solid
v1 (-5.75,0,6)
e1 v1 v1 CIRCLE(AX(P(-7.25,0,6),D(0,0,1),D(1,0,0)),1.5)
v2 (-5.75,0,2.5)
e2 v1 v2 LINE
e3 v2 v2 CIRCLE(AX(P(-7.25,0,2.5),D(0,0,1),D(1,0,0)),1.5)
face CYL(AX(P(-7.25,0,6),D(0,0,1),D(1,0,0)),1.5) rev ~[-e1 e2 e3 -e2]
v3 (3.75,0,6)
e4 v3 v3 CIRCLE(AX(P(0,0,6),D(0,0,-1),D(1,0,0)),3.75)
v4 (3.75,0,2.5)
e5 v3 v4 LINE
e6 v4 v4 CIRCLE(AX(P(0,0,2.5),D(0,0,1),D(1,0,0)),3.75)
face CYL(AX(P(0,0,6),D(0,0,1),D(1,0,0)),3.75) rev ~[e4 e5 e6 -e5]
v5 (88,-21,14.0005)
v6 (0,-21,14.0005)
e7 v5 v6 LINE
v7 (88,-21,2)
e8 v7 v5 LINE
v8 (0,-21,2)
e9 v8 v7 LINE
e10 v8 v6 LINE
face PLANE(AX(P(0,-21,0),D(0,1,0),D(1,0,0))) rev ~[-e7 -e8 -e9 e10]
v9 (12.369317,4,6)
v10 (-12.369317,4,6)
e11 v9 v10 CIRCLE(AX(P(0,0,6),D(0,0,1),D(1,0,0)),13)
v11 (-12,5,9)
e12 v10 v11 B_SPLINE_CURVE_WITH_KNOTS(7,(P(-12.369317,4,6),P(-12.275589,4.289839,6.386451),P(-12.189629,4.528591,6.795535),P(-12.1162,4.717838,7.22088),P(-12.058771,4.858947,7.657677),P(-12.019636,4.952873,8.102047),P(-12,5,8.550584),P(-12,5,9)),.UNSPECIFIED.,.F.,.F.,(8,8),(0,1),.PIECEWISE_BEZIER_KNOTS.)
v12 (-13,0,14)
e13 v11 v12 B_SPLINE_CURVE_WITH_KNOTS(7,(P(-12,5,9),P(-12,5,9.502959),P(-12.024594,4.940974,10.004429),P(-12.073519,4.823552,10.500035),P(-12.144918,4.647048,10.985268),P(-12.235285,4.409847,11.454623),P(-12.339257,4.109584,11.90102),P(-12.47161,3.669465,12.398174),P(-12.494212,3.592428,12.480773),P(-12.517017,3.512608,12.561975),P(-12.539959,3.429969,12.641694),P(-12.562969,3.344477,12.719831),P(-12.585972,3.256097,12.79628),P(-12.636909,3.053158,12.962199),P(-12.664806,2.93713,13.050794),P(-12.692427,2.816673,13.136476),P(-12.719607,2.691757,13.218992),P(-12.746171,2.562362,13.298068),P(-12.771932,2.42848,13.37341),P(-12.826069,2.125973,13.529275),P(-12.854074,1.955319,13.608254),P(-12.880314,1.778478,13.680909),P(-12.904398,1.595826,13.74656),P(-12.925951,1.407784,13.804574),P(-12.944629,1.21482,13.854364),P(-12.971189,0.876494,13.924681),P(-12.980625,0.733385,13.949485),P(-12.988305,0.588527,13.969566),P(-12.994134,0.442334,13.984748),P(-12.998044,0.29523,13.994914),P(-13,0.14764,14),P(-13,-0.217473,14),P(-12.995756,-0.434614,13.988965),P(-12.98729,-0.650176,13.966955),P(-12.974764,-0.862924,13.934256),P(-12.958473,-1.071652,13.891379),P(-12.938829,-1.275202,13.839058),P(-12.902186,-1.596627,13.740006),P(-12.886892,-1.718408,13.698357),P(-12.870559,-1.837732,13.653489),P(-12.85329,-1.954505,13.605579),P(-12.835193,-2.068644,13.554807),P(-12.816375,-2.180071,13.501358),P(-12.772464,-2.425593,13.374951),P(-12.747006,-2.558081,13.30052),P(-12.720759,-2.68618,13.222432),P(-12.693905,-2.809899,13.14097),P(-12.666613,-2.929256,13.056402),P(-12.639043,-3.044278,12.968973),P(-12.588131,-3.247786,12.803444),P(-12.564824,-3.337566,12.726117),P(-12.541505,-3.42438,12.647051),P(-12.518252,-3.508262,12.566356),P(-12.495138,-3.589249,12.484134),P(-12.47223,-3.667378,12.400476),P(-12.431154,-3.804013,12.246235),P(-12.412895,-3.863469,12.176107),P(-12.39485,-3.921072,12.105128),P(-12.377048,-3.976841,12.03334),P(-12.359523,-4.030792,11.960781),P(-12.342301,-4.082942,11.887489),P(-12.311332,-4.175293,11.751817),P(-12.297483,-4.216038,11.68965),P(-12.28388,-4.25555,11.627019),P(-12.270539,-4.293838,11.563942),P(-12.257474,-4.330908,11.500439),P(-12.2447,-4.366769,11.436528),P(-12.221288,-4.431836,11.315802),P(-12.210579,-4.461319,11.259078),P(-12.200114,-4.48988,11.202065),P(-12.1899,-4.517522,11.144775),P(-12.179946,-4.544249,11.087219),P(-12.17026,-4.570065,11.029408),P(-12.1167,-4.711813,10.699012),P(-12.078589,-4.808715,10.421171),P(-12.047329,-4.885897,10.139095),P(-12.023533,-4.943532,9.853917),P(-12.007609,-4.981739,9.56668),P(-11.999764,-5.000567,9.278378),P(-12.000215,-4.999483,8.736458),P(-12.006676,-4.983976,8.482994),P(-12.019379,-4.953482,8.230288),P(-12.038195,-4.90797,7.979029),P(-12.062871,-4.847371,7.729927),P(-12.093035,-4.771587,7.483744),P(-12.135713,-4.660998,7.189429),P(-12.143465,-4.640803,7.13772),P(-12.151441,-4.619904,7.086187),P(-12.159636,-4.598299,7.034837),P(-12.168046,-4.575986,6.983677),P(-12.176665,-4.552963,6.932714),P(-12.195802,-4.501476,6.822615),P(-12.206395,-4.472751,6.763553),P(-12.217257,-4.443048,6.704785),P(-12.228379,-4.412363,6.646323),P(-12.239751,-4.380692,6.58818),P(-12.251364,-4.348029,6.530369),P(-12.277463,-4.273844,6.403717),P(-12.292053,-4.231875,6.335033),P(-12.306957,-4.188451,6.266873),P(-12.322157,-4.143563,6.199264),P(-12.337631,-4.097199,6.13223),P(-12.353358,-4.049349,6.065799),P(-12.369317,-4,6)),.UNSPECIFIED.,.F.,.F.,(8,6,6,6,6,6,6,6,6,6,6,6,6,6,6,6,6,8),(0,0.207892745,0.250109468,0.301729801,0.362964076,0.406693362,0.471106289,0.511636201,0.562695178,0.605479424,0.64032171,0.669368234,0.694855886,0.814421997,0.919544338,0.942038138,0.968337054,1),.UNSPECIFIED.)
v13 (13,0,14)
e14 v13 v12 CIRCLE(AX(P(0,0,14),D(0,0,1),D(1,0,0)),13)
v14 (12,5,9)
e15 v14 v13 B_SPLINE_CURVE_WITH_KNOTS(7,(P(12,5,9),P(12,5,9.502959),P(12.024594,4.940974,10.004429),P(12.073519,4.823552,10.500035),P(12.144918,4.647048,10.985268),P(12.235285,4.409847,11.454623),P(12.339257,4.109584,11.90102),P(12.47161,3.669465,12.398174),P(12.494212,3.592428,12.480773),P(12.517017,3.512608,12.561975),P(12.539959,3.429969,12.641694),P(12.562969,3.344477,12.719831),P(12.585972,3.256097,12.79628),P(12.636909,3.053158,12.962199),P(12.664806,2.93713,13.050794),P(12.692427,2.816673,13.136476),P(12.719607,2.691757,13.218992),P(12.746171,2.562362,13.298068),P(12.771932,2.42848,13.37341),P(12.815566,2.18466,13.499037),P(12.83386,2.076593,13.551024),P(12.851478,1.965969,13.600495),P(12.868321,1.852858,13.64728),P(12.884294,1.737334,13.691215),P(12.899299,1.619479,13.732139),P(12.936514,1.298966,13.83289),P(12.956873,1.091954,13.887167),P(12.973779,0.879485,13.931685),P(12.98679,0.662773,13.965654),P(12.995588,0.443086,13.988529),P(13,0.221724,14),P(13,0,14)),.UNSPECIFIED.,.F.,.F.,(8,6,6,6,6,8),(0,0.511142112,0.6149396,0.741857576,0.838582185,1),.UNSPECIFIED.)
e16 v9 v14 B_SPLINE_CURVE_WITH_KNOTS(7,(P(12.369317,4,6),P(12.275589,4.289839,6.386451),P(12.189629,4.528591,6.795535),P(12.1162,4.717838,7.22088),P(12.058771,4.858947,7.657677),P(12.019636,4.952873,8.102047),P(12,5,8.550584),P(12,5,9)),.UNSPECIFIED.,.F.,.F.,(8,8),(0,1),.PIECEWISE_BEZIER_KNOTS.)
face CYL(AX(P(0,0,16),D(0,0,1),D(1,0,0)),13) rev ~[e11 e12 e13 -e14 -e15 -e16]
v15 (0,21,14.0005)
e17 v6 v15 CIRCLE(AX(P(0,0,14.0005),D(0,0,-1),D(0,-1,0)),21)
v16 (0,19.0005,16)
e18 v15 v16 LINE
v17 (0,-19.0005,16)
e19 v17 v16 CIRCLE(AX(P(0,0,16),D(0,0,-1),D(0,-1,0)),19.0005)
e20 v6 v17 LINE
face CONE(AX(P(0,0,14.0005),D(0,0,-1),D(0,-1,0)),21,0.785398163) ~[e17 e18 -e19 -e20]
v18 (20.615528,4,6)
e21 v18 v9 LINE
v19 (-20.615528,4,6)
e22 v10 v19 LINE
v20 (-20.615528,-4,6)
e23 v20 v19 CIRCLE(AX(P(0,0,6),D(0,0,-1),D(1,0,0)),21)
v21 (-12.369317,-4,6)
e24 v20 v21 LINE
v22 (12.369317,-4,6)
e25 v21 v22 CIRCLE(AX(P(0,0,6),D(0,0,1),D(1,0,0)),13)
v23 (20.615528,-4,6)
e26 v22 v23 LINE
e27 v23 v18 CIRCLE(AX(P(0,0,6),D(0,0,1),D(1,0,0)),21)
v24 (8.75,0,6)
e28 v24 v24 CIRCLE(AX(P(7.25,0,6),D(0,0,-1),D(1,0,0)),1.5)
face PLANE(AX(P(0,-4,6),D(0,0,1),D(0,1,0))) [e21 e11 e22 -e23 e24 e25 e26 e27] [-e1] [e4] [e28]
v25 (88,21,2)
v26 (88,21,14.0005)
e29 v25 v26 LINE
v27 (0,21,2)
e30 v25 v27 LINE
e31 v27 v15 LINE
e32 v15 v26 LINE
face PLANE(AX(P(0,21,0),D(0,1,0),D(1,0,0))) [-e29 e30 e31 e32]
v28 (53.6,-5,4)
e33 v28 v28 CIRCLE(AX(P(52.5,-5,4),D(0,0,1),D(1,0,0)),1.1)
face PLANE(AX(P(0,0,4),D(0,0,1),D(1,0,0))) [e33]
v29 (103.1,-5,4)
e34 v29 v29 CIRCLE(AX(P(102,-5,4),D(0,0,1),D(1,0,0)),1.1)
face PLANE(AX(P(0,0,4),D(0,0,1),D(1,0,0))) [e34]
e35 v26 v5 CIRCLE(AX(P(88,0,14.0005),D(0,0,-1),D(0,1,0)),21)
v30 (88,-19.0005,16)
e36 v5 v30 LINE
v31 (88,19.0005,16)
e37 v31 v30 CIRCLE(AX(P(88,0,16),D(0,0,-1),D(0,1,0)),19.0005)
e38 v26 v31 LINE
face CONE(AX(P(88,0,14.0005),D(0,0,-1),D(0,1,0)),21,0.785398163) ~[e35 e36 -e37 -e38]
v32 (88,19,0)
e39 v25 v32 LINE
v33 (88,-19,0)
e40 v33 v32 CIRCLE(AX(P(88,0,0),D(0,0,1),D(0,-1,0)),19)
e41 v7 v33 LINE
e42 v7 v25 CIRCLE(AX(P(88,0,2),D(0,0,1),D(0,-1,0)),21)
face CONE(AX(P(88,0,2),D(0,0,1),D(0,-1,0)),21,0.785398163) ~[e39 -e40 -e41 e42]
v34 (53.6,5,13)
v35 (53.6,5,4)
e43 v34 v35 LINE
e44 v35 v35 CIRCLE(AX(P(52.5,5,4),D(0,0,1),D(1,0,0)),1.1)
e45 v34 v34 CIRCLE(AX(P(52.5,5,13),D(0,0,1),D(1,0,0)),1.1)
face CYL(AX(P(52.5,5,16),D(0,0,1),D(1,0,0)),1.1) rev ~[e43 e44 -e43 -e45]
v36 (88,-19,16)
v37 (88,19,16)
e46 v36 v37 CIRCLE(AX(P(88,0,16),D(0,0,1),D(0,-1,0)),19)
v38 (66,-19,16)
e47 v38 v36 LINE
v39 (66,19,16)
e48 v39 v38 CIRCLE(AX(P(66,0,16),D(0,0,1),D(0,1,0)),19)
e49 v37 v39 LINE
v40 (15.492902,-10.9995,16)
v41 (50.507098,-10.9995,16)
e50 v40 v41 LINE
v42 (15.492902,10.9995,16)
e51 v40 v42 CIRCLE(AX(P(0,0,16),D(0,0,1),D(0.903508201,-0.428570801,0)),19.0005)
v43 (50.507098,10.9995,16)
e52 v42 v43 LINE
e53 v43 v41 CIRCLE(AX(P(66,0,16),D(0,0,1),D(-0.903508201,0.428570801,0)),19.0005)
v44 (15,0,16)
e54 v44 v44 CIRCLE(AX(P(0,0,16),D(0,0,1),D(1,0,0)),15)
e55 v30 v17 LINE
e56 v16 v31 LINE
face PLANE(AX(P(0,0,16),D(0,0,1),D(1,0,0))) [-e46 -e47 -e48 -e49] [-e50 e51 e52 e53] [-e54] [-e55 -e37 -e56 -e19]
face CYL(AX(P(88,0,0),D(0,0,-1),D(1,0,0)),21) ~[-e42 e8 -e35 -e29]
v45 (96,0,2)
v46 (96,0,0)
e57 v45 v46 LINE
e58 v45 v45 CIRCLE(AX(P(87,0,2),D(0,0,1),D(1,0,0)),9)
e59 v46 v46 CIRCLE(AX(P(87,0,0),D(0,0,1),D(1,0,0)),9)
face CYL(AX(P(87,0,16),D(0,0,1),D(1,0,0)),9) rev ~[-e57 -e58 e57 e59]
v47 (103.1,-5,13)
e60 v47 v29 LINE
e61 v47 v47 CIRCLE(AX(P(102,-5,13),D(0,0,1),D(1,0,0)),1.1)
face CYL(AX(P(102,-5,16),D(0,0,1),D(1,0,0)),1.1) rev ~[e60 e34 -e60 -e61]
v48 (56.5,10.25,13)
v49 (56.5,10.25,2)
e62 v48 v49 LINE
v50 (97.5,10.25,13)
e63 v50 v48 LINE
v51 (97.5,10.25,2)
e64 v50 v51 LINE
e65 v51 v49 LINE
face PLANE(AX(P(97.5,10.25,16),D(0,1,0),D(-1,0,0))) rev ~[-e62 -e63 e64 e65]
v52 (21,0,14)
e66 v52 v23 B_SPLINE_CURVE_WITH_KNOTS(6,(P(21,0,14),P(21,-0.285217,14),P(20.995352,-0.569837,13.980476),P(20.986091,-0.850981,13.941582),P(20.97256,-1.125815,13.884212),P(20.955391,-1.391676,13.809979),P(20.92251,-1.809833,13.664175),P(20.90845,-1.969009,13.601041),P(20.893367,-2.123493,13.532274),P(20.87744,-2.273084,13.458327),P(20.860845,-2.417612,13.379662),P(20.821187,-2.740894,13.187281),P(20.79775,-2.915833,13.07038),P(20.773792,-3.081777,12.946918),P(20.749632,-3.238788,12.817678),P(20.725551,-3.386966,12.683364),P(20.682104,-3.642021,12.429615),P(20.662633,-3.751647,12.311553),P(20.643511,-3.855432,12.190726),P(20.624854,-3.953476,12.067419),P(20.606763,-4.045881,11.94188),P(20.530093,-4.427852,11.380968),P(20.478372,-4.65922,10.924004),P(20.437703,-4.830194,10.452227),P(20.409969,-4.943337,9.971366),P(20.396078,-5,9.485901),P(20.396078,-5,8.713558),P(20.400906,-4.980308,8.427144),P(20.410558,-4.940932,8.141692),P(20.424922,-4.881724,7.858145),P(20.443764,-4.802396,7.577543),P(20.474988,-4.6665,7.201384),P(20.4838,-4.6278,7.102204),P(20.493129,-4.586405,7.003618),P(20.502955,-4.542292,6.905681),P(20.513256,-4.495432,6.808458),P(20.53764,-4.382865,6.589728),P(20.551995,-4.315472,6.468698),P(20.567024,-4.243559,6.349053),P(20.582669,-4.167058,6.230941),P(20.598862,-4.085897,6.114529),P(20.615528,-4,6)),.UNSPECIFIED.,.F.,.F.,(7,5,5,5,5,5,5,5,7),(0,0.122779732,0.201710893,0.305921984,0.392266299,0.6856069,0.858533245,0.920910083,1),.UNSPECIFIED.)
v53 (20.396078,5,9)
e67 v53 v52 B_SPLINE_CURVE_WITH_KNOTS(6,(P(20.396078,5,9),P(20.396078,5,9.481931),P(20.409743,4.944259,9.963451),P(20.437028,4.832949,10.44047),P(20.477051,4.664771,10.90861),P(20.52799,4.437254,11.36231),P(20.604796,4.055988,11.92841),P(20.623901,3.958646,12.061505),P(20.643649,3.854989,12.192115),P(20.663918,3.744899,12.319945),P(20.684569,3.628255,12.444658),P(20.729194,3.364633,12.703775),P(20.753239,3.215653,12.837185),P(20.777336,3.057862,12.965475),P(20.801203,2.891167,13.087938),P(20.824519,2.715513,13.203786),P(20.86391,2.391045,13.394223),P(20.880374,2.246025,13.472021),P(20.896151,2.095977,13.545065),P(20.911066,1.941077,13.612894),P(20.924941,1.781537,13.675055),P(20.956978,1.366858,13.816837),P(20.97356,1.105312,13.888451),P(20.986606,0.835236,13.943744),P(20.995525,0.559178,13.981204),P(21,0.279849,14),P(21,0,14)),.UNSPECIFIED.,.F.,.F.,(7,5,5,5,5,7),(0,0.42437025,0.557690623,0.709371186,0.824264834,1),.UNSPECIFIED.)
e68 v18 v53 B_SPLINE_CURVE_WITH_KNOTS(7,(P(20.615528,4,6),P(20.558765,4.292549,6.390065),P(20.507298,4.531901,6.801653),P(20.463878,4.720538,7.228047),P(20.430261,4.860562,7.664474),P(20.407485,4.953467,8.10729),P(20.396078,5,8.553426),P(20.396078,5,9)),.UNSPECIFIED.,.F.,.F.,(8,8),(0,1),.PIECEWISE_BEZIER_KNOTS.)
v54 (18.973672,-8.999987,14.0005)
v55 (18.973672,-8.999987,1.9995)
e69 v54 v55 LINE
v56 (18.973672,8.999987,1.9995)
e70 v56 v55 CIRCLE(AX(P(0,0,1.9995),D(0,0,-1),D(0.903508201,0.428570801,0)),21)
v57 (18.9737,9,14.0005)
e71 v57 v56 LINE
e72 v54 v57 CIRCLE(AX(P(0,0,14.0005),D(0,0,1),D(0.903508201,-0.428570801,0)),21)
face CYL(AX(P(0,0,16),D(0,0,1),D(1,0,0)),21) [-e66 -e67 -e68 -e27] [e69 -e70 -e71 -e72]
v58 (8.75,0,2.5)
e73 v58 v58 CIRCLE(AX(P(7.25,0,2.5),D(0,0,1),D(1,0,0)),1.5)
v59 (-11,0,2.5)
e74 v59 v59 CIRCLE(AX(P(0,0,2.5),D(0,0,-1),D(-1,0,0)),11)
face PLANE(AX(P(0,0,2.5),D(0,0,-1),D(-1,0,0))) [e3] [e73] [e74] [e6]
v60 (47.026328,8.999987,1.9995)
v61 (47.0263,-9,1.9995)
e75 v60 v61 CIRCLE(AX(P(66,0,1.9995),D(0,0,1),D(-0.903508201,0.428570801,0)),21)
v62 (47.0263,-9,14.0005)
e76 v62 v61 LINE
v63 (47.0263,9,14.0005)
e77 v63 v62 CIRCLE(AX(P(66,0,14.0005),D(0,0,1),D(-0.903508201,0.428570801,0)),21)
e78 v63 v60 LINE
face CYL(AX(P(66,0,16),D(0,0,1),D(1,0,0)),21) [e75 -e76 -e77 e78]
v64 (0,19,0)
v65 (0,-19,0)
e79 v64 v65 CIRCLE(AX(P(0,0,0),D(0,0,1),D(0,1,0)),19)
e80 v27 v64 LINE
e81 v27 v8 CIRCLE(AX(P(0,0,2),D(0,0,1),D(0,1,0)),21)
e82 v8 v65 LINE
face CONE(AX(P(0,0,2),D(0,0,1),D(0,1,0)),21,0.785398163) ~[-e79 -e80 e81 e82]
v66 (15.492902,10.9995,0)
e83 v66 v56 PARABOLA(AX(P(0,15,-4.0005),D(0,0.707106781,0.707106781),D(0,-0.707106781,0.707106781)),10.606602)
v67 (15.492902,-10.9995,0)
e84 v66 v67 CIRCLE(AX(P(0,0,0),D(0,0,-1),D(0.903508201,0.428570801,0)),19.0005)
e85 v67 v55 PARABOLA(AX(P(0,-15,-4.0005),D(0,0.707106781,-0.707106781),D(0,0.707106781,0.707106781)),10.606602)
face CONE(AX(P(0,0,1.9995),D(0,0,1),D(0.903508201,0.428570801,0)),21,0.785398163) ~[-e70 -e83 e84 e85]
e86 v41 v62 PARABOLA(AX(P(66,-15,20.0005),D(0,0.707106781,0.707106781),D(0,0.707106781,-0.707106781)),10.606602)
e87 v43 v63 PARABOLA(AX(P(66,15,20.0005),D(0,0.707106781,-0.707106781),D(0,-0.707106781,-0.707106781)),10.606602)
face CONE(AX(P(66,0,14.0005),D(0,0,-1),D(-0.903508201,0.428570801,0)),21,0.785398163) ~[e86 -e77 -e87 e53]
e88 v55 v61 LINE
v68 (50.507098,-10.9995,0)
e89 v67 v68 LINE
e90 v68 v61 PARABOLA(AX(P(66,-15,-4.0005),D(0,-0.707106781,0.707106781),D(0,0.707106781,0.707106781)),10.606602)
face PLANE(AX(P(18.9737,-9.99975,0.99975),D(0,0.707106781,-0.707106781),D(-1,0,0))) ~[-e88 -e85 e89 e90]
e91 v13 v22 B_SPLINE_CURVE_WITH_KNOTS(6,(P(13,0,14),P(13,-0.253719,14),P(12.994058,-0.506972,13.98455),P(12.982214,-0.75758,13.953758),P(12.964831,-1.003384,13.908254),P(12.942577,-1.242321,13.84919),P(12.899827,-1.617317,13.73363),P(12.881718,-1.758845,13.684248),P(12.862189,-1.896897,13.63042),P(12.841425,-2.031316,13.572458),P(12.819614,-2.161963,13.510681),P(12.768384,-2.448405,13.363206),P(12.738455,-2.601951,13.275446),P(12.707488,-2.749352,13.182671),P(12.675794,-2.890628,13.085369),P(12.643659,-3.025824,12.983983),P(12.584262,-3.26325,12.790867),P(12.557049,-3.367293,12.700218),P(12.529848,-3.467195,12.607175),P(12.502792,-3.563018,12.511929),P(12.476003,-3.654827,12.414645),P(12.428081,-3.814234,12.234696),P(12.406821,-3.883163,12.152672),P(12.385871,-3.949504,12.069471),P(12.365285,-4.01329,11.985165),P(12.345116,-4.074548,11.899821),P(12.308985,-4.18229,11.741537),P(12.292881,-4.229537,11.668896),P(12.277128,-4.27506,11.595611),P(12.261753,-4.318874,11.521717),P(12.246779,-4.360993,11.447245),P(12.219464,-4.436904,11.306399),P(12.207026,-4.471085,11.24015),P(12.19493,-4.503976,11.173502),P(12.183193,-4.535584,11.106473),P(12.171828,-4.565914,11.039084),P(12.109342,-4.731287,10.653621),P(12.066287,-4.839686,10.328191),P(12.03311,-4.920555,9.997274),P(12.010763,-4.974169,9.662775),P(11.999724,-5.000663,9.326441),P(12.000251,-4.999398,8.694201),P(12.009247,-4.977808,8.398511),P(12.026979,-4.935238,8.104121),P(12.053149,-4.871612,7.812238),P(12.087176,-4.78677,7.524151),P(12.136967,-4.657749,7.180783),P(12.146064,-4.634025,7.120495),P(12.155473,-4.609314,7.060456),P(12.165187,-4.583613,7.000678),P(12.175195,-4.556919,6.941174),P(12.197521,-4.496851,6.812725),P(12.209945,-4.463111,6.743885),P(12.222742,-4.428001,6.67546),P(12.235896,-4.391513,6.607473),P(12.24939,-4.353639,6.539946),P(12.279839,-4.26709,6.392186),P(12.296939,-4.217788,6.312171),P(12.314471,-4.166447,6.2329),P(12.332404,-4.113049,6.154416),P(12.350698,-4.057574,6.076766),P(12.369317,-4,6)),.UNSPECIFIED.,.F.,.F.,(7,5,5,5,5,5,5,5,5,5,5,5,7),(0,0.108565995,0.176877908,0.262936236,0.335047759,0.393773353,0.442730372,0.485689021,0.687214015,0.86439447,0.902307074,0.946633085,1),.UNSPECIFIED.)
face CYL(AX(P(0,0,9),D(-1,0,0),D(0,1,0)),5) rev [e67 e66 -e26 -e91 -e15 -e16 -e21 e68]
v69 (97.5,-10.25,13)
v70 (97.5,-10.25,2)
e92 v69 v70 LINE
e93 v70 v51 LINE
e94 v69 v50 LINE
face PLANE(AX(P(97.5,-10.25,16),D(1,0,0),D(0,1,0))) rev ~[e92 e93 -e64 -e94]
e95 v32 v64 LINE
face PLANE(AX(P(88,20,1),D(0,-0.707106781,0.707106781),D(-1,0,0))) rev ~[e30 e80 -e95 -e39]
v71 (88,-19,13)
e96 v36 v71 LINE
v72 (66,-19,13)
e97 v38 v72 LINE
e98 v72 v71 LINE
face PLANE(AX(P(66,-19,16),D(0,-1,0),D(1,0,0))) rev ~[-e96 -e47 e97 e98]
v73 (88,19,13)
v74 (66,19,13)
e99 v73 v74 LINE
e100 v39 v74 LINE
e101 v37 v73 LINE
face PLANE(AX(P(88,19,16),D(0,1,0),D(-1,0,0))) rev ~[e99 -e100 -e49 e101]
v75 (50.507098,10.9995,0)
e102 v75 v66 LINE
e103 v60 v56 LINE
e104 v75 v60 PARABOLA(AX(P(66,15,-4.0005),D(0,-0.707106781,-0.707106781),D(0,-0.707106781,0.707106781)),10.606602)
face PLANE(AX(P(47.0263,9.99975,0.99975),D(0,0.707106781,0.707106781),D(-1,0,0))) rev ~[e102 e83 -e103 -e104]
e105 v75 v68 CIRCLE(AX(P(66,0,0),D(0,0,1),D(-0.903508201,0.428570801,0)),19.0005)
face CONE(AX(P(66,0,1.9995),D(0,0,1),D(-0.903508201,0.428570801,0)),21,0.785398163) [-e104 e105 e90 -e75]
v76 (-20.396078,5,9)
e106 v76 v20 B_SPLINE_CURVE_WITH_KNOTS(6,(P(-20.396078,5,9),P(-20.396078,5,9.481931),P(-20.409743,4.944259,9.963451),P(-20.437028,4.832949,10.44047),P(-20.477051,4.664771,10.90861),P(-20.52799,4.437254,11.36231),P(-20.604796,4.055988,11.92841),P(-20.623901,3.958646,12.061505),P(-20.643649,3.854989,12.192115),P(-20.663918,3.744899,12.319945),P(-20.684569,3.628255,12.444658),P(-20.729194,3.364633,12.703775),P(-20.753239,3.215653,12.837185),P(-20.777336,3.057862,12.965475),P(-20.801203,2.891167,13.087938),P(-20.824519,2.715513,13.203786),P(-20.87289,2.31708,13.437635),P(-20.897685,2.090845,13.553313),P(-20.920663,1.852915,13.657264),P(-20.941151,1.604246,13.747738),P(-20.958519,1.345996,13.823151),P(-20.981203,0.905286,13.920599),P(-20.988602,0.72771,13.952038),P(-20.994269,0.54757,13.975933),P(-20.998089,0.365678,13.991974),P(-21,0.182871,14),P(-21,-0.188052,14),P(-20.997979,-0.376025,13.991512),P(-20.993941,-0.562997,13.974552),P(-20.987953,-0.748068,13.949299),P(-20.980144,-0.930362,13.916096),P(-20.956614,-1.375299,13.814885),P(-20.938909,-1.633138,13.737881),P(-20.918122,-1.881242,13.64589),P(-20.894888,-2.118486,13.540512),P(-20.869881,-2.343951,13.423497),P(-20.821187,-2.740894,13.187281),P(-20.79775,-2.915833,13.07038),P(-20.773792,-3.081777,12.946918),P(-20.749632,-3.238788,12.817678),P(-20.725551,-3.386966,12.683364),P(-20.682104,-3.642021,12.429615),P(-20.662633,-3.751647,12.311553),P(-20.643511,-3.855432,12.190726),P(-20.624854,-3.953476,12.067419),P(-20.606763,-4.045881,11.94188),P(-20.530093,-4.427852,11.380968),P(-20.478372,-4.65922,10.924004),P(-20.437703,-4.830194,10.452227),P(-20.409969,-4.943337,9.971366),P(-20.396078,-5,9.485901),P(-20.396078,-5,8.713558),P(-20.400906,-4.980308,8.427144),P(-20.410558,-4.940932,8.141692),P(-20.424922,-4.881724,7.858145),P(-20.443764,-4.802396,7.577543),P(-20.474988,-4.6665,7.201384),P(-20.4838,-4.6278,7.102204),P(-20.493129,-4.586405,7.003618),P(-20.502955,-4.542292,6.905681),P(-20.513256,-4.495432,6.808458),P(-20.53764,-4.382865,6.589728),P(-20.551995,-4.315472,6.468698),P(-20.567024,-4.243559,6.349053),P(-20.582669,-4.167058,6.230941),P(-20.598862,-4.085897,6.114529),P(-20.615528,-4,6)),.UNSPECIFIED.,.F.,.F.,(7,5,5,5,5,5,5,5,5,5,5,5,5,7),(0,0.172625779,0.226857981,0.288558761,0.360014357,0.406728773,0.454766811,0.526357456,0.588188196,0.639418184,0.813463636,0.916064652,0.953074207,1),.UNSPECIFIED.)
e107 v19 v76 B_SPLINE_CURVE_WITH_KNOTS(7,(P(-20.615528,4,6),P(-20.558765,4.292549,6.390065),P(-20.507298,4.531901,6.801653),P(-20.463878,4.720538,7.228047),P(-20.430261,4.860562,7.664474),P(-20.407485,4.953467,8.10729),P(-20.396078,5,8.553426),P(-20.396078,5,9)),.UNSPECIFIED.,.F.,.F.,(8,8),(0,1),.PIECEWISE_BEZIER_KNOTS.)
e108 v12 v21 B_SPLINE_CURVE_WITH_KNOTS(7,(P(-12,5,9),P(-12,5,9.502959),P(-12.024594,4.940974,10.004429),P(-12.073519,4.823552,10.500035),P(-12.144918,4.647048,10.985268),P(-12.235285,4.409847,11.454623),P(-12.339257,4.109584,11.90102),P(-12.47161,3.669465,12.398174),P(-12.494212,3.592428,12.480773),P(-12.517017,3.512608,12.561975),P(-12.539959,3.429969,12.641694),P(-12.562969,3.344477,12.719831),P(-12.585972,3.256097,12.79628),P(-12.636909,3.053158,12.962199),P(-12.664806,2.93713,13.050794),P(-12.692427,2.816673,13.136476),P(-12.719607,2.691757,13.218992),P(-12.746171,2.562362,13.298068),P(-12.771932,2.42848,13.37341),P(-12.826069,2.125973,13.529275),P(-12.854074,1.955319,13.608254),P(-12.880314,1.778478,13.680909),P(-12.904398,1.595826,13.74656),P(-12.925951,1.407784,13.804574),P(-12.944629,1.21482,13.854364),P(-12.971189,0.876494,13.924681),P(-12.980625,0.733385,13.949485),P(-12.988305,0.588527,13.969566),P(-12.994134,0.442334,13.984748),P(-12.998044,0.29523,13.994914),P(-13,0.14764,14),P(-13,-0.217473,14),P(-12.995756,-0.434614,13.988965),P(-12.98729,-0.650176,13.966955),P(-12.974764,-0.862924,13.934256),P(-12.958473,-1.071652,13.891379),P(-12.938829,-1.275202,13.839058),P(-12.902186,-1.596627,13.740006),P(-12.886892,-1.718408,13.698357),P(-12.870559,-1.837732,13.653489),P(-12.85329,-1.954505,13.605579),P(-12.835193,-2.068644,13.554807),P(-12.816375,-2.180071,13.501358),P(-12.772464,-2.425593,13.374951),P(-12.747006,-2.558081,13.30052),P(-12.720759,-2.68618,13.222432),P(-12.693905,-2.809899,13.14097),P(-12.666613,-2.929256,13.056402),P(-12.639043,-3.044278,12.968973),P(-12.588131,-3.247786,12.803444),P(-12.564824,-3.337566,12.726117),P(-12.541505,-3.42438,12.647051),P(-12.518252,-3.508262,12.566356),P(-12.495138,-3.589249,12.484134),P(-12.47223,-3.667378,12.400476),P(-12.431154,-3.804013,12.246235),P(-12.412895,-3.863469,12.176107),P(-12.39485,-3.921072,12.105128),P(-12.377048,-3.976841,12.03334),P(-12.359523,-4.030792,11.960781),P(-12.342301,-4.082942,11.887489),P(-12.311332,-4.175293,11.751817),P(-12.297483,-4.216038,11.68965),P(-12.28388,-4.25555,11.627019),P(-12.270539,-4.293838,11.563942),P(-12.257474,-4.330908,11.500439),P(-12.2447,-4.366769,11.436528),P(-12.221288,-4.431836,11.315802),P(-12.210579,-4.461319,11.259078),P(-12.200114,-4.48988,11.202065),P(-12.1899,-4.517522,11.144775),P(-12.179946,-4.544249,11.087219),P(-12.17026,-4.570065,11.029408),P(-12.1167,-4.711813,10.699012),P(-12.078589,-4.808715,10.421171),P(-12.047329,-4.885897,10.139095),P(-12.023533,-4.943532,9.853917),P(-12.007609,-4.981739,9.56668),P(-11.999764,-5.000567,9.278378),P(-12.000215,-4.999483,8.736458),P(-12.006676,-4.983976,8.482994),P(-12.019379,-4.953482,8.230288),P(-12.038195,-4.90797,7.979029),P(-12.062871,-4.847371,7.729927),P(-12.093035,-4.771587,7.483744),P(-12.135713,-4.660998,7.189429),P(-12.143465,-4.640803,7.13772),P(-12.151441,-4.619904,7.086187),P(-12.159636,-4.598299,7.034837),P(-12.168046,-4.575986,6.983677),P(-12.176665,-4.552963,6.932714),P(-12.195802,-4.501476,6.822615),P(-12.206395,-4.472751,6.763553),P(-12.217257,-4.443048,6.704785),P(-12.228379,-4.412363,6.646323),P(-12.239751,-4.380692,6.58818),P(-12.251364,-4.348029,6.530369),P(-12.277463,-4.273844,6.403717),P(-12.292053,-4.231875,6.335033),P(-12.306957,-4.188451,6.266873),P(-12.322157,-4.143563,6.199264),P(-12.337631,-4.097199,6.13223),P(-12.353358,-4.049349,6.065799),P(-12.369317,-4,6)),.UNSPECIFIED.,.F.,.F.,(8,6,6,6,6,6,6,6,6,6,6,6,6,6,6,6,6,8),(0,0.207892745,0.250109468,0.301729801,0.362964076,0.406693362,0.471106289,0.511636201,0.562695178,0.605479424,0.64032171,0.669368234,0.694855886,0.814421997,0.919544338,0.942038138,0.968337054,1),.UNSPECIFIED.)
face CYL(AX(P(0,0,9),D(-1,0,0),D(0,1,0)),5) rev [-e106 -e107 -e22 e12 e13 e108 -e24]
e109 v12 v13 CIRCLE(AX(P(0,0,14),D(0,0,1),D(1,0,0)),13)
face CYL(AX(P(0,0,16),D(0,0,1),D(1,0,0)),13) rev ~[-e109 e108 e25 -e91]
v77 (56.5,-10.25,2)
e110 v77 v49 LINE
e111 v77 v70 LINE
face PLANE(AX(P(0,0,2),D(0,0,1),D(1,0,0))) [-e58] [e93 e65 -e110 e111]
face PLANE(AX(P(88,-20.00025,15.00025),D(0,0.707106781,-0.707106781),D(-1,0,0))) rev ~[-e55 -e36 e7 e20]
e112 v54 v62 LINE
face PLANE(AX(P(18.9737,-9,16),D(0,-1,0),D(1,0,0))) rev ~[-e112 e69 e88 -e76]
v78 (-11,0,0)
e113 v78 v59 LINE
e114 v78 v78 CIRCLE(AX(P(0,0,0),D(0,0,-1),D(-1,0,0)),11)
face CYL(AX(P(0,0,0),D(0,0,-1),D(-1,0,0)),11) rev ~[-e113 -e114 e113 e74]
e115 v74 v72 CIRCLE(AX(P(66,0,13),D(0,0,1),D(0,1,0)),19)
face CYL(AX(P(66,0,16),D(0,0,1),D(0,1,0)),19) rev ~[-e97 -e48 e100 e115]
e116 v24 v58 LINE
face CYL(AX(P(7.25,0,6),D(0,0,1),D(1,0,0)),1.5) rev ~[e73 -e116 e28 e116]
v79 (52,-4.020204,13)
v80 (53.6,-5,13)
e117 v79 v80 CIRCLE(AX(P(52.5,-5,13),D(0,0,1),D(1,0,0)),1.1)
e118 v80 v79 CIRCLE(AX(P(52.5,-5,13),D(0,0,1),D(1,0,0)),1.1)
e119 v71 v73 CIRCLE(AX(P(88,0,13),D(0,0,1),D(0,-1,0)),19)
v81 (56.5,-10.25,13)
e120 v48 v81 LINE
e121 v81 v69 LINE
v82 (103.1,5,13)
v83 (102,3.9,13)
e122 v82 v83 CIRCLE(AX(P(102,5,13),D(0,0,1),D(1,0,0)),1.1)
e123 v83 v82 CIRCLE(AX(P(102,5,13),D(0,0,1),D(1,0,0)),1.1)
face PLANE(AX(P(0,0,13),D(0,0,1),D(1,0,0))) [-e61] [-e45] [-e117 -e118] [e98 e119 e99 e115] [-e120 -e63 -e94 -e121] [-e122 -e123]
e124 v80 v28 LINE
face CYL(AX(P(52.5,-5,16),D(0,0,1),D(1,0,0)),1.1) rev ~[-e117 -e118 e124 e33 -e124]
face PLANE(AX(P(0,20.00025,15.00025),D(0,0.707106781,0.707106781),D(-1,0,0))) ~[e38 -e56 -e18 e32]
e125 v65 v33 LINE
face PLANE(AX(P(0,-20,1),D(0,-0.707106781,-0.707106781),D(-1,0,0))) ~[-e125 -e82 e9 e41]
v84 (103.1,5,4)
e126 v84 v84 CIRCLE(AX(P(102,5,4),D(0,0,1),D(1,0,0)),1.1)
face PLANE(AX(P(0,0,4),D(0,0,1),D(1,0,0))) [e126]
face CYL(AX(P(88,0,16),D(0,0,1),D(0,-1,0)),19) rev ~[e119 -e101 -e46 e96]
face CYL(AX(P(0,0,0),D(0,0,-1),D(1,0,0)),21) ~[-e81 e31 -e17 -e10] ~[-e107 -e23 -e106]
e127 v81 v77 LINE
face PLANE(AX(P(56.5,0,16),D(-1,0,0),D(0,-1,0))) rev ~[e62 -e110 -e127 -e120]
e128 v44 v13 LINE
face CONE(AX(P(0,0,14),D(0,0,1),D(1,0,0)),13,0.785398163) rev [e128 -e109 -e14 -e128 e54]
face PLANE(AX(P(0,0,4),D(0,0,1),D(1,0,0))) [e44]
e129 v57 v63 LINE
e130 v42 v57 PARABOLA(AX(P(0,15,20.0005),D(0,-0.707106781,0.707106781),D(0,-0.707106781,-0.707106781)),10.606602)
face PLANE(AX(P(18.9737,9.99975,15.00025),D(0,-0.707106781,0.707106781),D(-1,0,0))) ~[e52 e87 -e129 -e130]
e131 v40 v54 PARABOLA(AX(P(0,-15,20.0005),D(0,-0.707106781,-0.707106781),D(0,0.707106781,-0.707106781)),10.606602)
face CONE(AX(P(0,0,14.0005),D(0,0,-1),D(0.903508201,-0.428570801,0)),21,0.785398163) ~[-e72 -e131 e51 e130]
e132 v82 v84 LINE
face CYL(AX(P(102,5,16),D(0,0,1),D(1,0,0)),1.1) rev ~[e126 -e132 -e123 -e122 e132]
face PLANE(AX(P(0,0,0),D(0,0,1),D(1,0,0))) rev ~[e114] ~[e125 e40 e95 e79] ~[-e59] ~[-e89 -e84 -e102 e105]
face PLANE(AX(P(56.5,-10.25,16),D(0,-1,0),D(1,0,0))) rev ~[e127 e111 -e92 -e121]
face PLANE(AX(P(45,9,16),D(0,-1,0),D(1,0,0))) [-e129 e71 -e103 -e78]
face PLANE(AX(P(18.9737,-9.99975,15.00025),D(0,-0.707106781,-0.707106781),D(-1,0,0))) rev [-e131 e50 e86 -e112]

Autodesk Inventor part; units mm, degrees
ref_plane "YZ Plane" through (0, 0, 0) normal (1, 0, 0) x (0, 1, 0)
ref_plane "XZ Plane" through (0, 0, 0) normal (0, 1, 0) x (-1, 0, 0)
ref_plane "XY Plane" through (0, 0, 0) normal (0, 0, 1) x (1, 0, 0)
sketch "Sketch2" plane through (0, 0, 0) normal (0, 0, 1) x (1, 0, 0)
  circle A0 centre (0, 0) radius 21
  line L0 (0, 0) -> (88, 0)
  circle A1 centre (88, 0) radius 21
  line L1 (0, 21) -> (88, 21)
  line L2 (0, -21) -> (88, -21)
  line L3 (0, 0) -> (24, 0)
  line L4 (88, 0) -> (64, 0)
  point P0 (67, 9)
  point P1 (67, -9)
  dimension "d1" = 42
  dimension "d2" = 88
  dimension "d3" = 42
  dimension "d4" = 24
  dimension "d6" = 24
extrude "Extrusion1" add sketch "Sketch2" along normal blind 16
sketch "Sketch3" plane through (0, 0, 16) normal (0, 0, 1) x (1, 0, 0)
  circle A0 centre (0, 0) radius 13
  dimension "d10" = 26
sketch "Sketch4" plane through (0, 0, 16) normal (0, 0, 1) x (1, 0, 0)
  arc A0 (88, -21) -> (88, 21) centre (88, 0) ccw projected
  line L0 (109, 0) -> (107, 0)
  line L1 (104, 0) -> (88, 0)
  line L2 (88, 0) -> (47, 0)
  line L3 (104, 0) -> (96, 0)
  line L4 (107, 0) -> (101, 0)
  line L5 (101, 0) -> (101, 3.9)
  line L6 (101, 0) -> (97.5, 0)
  line L7 (97.5, 0) -> (97.5, 10.25)
  line L8 (97.5, 10.25) -> (56.5, 10.25)
  line L9 (56.5, 10.25) -> (56.5, -10.25)
  line L10 (56.5, -10.25) -> (97.5, -10.25)
  line L11 (97.5, -10.25) -> (97.5, 0)
  line L12 (56.5, 0) -> (53, 0)
  arc A1 (102, 9.6437) -> (101.5624, 10.25) centre (88, 0) ccw
  line L13 (56.5, 0) -> (66, 0)
  arc A2 (52.4376, 10.25) -> (52, 9.6437) centre (66, 0) ccw
  line L14 (97.5, 0) -> (87, 0)
  circle A3 centre (87, 0) radius 9
  line L15 (56.5, 0) -> (52, 0)
  line L16 (97.5, 0) -> (102, 0)
  line L17 (102, 0) -> (102, 5)
  circle A4 centre (102, 5) radius 1.1
  line L18 (52, 0) -> (52, -5)
  circle A5 centre (102, -5) radius 1.1
  line L19 (56.5, 0) -> (52, 0)
  line L20 (56.5, 0) -> (52.5, 0)
  circle A6 centre (52.5, 5) radius 1.1
  circle A7 centre (52.5, -5) radius 1.1
  line L21 (88, 19) -> (66, 19)
  line L22 (66, -19) -> (88, -19)
  arc A8 (66, 19) -> (66, -19) centre (66, 0) ccw
  arc A9 (88, -19) -> (88, 19) centre (88, 0) ccw
  point P0 (0, 0)
  dimension "d12" = 2
  dimension "d14" = 41
  dimension "d16" = 6
  dimension "d17" = 3.9
  dimension "d21" = 3.5
  dimension "d22" = 10.25
  dimension "d23" = 41
  dimension "d24" = 20.5
  dimension "d25" = 3.5
  dimension "d27" = 34
  dimension "d28" = 9.5
  dimension "d31" = 10.5
  dimension "d32" = 18
  dimension "d73" = 4.5
  dimension "d75" = 4.5
  dimension "d76" = 5
  dimension "d77" = 2.2
  dimension "d78" = 5
  dimension "d80" = 2.2
  dimension "d81" = 4.5
  dimension "d82" = 4
  dimension "d84" = 2.2
extrude "Extrusion2" cut sketch "Sketch4" against normal blind 3 contours A7 | L4 A9 L22 A8 L2 L9 L10 L11 L1 | A4 | L1 L7 L8 L9 L2 A8 L21 A9 L4 | L11 L10 L9 L2 A3 L1 | L1 A3 L2 L9 L8 L7 | A3 L2 L1 | L1 L2 A3 | A5 | A6
extrude "Extrusion3" cut sketch "Sketch4" against normal blind 14 contours L11 L10 L9 L2 A3 L1 | L1 A3 L2 L9 L8 L7 | A3 L2 L1 | L1 L2 A3
extrude "Extrusion4" cut sketch "Sketch4" against normal blind 20 contours A3 L2 L1 | L1 L2 A3
extrude "Extrusion5" cut sketch "Sketch4" against normal blind 12 contours A7 | A4 | A5 | A6
chamfer "Chamfer1" distance 2 angle 45 4 edges at (44, 21, 16) (-21, 0, 16) (44, -21, 16) (109, 0, 16)
extrude "Extrusion6" cut sketch "Sketch3" against normal blind 10
chamfer "Chamfer2" distance 2 angle 45 1 edges at (-13, 0, 16)
sketch "Sketch5" plane through (0, 0, 6) normal (0, 0, 1) x (1, 0, 0)
  circle A0 centre (0, 0) radius 3.75
  line L0 (0, 0) -> (7.25, 0)
  circle A1 centre (7.25, 0) radius 1.5
  line L1 (0, 0) -> (-7.25, 0)
  circle A2 centre (-7.25, 0) radius 1.5
  dimension "d52" = 7.5
  dimension "d53" = 7.25
  dimension "d54" = 3
  dimension "d55" = 7.25
  dimension "d56" = 3
extrude "Extrusion7" cut sketch "Sketch5" against normal blind 10
chamfer "Chamfer4" distance 2 angle 45 4 edges at (44, -21, 0) (109, 0, 0) (44, 21, 0) (-21, 0, 0)
sketch "Sketch6" plane through (0, 0, 16) normal (0, 0, 1) x (1, 0, 0)
  circle A0 centre (0, 0) radius 21
  arc A1 (66, 17) -> (66, -17) centre (66, 0) ccw projected
  circle A2 centre (66, 0) radius 21
  line L0 (88, 21) -> (0, 21) projected
  line L1 (45, 9) -> (18.9737, 9)
  line L2 (45, 9) -> (47.0263, 9)
  line L3 (18.9737, 9) -> (18.9737, -9)
  line L4 (18.9737, -9) -> (47.0263, -9)
extrude "Extrusion8" cut sketch "Sketch6" against normal blind 105.25 contours A0 L1 L2 A2 L4
chamfer "Chamfer5" distance 2 angle 45 8 edges at (33, 9, 16) (21, 0, 16) (33, -9, 16) (45, 0, 16) (21, 0, 0) (33, -9, 0) (45, 0, 0) (33, 9, 0)
sketch "Sketch7" plane through (0, 0, 0) normal (0, 0, -1) x (-1, 0, 0)
  circle A0 centre (0, 0) radius 11
  dimension "d70" = 22
extrude "Extrusion9" cut sketch "Sketch7" against normal blind 2.5
sketch "Sketch9" plane through (0, 0, 0) normal (1, 0, 0) x (0, 1, 0)
  line L0 (-13, 6) -> (13, 6) projected
  line L1 (0, 6) -> (0, 14)
  line L2 (21, 14) -> (-21, 14) projected
  circle A0 centre (0, 10) radius 4
  line L3 (0, 14) -> (0, 9)
  circle A1 centre (0, 9) radius 5
  point P0 (0, 0)
  point P1 (4, 6)
  point P2 (-4, 6)
  dimension "d88" = 5
  dimension "d89" = 10
extrude "Extrusion10" cut sketch "Sketch9" along normal mid plane 51.75 contours A1 A0 L0 | A0 A1 L0 | A0 L1 | L1 A0
properties part number "arm_part2" material "PLA plastic"
